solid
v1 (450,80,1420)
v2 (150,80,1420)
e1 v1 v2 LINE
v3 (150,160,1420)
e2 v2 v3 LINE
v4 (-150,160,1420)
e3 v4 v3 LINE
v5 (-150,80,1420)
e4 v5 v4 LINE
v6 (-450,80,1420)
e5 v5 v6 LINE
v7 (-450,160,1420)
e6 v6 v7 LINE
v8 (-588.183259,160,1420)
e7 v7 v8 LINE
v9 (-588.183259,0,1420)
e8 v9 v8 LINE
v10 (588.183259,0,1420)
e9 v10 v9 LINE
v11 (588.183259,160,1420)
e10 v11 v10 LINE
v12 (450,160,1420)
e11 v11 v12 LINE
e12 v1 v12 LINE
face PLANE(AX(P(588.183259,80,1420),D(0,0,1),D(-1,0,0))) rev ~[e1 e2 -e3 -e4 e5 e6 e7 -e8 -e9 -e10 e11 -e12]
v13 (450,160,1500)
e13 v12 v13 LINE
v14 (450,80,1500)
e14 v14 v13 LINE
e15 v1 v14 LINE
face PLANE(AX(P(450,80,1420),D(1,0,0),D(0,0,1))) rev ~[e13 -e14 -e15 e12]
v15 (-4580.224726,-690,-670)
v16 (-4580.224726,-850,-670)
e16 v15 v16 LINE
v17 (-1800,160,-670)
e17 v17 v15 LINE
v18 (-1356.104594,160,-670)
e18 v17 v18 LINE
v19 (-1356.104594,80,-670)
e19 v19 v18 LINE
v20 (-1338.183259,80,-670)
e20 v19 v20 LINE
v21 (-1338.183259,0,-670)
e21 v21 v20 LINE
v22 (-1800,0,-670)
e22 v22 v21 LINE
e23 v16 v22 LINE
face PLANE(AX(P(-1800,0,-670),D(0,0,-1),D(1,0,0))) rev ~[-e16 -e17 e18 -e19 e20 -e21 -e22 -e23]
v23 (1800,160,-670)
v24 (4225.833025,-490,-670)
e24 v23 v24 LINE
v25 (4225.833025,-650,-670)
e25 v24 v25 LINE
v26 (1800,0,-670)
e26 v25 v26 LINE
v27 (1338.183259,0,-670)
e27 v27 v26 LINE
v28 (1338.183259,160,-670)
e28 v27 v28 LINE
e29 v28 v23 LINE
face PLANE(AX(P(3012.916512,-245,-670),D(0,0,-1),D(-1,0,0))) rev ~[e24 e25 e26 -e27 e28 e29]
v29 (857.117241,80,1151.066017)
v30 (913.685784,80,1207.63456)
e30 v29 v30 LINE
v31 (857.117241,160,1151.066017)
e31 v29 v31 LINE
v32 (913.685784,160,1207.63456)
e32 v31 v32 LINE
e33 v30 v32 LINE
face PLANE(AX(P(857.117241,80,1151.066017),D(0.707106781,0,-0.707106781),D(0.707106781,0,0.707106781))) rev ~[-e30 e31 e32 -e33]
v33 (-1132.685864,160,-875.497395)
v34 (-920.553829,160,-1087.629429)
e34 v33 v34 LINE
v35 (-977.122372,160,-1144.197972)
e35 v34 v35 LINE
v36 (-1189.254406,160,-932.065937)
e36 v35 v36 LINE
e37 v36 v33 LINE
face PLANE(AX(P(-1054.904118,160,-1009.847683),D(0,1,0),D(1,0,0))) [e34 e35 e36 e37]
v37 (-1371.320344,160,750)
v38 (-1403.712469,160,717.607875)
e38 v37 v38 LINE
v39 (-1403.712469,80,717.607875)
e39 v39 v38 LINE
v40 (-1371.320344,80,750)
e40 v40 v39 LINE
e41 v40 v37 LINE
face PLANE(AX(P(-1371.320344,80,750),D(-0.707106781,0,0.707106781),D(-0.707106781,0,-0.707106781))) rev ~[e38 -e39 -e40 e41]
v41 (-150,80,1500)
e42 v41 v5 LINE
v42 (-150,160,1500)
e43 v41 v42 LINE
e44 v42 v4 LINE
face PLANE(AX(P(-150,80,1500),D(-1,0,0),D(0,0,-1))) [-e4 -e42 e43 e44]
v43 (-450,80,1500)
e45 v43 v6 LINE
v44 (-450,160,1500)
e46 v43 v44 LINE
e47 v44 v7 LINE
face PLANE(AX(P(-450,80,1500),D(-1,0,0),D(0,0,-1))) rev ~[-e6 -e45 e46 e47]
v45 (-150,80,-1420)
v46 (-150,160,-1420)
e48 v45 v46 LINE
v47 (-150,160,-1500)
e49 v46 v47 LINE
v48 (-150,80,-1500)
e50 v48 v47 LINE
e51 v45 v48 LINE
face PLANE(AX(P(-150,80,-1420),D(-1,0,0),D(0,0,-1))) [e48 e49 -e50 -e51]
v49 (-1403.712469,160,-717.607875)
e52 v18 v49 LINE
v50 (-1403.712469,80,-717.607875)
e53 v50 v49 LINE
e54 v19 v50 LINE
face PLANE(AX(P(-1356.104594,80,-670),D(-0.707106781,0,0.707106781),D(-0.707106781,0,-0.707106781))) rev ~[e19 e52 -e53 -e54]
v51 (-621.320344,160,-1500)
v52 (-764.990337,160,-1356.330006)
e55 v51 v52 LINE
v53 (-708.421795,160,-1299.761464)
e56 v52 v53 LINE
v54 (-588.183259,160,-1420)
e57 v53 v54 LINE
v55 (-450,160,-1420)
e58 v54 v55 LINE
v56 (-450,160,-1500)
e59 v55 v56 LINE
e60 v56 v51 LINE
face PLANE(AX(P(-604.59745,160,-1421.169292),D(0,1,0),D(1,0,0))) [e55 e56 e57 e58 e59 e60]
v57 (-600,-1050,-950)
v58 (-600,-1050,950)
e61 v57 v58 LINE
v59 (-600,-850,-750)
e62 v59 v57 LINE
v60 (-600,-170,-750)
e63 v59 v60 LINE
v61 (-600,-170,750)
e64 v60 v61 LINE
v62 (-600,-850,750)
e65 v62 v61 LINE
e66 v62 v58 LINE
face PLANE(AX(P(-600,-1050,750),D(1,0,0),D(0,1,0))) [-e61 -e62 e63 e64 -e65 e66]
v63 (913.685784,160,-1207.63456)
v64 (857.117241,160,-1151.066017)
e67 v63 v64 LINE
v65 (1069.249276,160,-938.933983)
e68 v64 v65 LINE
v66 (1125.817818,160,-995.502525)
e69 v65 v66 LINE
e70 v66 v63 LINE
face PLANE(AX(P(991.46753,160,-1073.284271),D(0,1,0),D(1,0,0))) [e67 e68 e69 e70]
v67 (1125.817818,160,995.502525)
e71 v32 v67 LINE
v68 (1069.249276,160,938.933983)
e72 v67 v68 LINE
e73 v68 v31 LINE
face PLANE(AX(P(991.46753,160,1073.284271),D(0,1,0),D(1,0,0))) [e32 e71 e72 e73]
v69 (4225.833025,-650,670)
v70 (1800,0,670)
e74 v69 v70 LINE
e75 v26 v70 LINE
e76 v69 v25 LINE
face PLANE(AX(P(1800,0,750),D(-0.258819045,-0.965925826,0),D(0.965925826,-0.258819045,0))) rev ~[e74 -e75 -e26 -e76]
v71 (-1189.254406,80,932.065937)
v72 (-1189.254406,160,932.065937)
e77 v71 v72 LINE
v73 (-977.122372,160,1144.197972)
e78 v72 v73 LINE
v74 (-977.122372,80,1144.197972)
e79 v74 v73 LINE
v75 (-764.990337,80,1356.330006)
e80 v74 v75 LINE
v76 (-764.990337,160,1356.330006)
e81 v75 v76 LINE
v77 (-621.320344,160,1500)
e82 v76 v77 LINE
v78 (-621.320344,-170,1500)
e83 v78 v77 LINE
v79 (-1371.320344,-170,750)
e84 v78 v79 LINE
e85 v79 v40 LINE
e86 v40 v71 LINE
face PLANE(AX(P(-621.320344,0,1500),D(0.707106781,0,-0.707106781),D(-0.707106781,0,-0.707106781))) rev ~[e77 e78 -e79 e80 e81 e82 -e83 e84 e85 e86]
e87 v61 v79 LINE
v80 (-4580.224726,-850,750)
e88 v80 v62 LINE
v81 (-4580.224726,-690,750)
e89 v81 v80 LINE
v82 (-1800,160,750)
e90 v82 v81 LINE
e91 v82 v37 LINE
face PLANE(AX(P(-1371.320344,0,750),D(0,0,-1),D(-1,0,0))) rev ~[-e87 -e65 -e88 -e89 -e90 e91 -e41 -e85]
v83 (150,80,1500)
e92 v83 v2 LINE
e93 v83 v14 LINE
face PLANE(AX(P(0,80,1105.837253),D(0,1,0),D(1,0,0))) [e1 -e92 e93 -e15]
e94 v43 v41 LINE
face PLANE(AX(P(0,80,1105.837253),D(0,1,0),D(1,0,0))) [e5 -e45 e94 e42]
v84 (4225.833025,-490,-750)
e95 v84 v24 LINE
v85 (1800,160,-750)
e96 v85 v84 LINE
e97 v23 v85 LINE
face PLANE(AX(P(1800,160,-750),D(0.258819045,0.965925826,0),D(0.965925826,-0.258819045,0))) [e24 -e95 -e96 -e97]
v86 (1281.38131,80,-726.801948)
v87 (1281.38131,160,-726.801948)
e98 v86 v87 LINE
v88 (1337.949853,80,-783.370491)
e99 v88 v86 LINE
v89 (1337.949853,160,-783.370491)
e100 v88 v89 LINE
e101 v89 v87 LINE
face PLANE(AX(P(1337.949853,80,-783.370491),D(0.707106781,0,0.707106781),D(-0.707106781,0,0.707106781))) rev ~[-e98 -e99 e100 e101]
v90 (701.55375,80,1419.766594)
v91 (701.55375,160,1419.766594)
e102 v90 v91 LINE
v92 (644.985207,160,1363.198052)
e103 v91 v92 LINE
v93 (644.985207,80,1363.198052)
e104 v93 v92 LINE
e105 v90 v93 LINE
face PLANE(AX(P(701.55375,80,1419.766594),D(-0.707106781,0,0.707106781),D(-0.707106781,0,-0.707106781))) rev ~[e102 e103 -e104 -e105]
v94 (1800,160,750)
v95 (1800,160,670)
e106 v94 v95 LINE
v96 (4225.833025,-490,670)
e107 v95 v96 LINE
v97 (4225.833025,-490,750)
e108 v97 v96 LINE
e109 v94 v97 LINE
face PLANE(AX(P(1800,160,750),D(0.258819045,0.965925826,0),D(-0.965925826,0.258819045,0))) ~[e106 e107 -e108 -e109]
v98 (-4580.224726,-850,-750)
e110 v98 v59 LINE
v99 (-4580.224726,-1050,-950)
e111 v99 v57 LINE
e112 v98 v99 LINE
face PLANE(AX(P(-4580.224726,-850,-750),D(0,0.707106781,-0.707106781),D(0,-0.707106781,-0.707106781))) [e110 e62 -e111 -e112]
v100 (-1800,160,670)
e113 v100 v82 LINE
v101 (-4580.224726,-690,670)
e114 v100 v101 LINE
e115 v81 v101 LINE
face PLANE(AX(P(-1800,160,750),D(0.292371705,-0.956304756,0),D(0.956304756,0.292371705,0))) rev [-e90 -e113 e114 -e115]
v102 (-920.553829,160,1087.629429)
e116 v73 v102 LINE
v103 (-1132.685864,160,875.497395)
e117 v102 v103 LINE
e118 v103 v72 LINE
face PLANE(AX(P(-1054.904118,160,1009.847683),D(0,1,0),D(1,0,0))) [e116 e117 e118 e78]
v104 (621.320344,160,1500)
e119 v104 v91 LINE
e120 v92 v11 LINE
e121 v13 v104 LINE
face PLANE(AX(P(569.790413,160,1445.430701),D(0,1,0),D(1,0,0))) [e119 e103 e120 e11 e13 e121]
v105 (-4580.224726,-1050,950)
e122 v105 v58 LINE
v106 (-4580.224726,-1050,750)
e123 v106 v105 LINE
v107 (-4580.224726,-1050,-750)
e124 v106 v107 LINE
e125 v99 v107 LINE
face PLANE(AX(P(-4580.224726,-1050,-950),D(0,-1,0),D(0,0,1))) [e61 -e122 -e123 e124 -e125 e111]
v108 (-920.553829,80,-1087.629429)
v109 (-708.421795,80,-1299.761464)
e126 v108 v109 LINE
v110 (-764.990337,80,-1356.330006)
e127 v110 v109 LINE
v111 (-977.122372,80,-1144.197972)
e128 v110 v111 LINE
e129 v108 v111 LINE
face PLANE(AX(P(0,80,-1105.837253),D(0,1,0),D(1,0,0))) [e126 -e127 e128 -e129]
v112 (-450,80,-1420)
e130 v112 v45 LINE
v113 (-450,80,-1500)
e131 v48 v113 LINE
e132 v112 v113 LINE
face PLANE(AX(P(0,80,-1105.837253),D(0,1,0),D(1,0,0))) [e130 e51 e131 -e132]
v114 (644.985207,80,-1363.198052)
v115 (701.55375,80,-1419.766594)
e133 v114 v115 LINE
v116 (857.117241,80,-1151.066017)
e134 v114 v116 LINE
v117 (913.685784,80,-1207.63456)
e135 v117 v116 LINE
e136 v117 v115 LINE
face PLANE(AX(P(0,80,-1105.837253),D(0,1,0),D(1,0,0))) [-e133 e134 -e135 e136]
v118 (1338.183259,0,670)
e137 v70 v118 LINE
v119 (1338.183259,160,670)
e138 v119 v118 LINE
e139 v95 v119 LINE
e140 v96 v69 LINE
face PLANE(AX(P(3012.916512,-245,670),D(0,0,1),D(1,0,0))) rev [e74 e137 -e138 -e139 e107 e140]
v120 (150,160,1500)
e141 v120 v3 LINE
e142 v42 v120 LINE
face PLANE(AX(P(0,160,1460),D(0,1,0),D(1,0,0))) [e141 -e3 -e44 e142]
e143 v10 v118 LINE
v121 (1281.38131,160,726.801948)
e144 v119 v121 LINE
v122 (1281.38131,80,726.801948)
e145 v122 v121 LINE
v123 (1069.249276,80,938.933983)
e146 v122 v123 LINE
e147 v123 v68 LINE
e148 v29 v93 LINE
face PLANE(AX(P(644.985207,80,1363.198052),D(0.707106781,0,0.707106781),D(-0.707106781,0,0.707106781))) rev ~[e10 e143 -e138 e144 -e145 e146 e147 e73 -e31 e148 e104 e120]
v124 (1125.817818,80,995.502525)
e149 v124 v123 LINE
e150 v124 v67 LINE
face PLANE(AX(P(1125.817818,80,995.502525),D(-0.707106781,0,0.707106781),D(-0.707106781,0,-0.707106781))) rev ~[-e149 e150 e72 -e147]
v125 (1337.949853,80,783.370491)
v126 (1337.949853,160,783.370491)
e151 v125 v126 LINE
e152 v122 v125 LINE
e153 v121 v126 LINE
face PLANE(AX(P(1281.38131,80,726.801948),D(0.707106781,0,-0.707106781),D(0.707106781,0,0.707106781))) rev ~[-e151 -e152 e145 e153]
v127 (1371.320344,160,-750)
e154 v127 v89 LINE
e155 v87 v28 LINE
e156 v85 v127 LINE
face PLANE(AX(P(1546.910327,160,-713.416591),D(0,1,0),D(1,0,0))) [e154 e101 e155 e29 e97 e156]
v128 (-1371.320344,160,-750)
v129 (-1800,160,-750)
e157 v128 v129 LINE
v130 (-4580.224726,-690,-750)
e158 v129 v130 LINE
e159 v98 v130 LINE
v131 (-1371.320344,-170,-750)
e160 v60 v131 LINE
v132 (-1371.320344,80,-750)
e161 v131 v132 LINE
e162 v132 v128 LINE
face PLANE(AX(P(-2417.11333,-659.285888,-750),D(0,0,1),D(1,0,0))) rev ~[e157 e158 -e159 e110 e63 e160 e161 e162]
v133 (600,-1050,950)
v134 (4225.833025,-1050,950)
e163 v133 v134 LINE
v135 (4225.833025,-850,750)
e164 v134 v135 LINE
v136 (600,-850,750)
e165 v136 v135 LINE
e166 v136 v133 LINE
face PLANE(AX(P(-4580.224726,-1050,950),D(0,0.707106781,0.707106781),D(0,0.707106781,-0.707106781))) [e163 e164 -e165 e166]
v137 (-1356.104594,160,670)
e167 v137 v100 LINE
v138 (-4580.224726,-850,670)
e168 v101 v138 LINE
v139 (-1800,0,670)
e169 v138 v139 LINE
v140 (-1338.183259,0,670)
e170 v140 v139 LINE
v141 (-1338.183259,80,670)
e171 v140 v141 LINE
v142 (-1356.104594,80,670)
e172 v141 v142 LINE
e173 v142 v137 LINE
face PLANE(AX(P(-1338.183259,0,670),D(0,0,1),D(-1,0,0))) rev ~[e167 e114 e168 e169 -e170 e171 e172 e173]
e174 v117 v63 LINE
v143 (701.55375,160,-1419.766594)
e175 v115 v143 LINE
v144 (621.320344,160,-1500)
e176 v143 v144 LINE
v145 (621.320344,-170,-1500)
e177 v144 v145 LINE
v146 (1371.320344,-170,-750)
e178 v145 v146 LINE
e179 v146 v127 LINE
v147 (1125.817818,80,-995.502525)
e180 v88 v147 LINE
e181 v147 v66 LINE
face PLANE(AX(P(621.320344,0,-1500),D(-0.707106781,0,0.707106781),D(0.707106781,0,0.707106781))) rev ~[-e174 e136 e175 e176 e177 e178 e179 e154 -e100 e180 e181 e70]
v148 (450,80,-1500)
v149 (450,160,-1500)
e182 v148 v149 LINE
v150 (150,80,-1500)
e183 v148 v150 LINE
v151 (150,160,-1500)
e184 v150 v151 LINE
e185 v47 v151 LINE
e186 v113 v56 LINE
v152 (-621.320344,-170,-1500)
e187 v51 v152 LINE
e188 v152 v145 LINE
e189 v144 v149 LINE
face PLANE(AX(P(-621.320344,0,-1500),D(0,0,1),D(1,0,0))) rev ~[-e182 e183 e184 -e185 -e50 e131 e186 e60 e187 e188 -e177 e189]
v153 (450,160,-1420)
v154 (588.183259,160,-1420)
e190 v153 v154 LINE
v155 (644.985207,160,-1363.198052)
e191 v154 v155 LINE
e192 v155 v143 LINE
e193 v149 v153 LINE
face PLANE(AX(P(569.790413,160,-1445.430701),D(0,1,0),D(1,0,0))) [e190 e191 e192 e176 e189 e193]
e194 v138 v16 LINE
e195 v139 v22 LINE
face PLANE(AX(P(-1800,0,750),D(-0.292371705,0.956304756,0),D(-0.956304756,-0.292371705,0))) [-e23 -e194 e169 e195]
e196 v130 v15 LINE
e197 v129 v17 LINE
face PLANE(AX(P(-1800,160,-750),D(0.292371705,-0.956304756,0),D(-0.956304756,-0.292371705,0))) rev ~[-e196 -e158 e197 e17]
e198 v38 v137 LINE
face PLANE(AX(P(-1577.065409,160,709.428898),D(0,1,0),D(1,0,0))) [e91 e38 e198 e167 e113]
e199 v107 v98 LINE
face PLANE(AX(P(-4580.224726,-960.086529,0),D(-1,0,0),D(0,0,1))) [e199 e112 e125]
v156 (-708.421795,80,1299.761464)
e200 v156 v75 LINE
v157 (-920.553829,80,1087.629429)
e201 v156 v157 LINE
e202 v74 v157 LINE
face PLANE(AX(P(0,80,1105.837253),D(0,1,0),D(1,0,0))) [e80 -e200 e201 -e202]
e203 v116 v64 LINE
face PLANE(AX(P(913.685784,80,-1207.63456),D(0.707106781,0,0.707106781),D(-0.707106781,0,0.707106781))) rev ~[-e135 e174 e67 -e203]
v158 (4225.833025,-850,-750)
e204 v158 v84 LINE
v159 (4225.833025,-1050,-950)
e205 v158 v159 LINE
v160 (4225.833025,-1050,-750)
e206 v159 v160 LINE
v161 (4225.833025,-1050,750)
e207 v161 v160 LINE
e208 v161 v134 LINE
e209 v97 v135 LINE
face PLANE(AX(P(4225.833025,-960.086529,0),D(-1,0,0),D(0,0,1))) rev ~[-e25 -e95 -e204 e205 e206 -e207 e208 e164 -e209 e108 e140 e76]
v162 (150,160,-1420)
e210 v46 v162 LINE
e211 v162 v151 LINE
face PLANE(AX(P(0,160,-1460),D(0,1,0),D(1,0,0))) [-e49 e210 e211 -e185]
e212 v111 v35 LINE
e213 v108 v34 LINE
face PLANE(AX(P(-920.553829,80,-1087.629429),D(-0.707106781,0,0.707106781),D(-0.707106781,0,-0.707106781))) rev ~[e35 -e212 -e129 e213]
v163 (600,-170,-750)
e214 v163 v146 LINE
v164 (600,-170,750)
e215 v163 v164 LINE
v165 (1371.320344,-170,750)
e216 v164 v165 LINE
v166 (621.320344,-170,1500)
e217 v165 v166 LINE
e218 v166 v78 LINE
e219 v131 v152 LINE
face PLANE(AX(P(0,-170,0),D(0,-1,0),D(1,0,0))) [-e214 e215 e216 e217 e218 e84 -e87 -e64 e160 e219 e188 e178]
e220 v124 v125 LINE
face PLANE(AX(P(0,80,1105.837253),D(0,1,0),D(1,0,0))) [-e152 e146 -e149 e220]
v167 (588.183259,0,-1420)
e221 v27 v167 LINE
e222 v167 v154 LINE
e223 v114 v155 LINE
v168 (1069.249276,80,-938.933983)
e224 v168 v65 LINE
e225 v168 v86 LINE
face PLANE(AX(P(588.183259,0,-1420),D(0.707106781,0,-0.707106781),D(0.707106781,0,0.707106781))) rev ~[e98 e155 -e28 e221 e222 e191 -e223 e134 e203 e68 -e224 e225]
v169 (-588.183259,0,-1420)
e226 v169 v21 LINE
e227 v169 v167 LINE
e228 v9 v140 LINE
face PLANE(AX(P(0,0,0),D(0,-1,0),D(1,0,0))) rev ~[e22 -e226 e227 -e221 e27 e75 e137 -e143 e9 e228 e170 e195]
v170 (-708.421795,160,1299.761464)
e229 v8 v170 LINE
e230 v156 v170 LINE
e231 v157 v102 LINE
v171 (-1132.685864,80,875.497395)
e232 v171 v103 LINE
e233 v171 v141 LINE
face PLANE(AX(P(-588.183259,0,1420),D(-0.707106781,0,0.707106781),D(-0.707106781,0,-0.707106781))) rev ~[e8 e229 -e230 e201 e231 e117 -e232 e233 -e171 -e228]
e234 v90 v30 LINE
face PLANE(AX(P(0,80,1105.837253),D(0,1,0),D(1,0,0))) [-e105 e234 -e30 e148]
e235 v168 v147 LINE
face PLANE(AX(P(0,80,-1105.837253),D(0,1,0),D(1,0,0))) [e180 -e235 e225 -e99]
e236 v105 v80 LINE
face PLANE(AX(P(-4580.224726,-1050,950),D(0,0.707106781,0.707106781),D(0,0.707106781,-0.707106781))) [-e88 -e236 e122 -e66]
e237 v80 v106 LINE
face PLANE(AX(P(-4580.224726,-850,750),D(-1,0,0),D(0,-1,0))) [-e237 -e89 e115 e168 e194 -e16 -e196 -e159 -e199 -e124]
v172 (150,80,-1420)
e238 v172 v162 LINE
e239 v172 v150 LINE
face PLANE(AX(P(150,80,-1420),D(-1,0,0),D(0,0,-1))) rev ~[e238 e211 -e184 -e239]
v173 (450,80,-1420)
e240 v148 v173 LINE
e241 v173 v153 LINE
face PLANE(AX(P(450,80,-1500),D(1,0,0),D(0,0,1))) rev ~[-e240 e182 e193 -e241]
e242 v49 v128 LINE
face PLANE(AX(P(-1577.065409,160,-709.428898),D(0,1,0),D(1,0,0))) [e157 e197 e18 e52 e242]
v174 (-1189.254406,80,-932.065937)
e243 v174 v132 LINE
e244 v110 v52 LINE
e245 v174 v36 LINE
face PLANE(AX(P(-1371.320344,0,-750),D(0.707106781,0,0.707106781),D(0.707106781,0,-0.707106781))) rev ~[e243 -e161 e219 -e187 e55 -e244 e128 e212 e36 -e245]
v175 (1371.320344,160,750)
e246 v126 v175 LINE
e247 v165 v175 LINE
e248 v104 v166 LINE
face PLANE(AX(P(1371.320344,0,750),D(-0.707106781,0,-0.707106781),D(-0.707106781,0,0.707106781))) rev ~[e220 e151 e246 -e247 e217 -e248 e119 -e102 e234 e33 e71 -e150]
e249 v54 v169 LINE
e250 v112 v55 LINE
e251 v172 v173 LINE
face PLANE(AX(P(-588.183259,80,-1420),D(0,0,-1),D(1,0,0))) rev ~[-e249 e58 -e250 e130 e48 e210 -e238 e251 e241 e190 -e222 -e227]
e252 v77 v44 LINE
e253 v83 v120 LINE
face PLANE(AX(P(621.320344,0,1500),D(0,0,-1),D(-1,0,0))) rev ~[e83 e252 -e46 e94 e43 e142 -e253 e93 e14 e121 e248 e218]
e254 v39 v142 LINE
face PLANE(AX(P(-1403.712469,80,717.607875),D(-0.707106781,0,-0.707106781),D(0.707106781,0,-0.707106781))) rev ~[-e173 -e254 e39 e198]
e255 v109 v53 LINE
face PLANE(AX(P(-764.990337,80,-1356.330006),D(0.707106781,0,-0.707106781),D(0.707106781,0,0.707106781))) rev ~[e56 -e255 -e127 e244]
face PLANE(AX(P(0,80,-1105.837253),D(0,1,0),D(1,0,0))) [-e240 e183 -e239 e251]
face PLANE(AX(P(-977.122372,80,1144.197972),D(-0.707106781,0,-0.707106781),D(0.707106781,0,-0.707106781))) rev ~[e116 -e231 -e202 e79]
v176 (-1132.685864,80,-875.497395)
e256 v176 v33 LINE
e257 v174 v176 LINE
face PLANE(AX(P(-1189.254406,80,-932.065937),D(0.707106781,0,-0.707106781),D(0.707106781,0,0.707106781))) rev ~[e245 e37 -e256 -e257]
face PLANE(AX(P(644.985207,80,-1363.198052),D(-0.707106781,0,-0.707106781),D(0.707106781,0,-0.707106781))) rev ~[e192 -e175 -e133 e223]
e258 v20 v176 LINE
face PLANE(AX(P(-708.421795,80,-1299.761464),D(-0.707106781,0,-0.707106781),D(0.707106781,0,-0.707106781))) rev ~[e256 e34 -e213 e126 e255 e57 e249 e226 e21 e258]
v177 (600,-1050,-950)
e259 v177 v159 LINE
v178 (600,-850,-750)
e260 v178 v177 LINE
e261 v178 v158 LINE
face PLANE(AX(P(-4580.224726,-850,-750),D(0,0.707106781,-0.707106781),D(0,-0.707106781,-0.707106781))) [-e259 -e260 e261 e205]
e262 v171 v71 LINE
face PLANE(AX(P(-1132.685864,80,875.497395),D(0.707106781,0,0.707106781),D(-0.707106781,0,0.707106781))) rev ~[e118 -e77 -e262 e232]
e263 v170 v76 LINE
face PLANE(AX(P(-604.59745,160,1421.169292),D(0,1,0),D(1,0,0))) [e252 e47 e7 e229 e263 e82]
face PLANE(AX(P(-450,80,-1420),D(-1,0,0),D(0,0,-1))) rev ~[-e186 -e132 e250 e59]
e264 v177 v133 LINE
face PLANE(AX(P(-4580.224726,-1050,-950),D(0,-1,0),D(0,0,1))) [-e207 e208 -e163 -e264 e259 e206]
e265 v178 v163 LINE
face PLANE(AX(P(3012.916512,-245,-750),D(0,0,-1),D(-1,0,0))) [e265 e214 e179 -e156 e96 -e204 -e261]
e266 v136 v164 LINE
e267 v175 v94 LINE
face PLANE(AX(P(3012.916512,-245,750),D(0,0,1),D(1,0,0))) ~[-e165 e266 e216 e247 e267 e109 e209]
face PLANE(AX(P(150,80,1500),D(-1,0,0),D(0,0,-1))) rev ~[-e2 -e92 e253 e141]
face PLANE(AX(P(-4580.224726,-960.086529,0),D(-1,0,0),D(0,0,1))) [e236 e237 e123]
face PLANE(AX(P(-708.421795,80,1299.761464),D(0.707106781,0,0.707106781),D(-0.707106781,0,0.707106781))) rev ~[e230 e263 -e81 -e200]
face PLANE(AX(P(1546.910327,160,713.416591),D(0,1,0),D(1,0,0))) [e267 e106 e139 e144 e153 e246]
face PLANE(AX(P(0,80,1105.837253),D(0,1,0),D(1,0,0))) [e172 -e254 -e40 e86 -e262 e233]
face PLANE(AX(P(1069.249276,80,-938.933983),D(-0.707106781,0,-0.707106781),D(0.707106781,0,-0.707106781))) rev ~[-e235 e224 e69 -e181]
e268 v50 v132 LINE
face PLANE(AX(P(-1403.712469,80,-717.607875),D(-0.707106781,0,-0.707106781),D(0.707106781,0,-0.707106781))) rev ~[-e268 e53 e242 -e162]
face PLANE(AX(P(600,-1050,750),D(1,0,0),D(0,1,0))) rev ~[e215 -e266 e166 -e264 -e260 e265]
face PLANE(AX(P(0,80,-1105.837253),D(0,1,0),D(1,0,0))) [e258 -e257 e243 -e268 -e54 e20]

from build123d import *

# Parameters (mm, degrees)
EXTRUDE_1_DEPTH          = 80
EXTRUDE_1_2_DEPTH        = 80
SKETCH_2_W               = 300
SKETCH_2_H               = 80
EXTRUDE_2_DEPTH          = 80
EXTRUDE_3_DEPTH          = 170
EXTRUDE_4_DEPTH          = 1500
EXTRUDE_5_DEPTH          = 80
EXTRUDE_START            = -3980.224726
EXTRUDE_6_DEPTH          = 8806.057751
SKETCH_7_W               = 1200
SKETCH_7_H               = 200
CUT_EXTRUDE_1_DEPTH      = 751
CUT_EXTRUDE_1_DEPTH_BACK = 2251


with BuildPart() as part:
    # 草图1 → 凸台-拉伸1 (new body)
    with BuildSketch(Plane(origin=(0, 0, 0), x_dir=(1, 0, 0), z_dir=(0, 1, 0))):
        Polygon((1371.32034356, 750), (621.32034356, 1500), (-621.32034356, 1500), (-1371.32034356, 750), (-1800, 750), (-1800, 670), (-1338.18325857, 670), (-588.18325857, 1420), (588.18325857, 1420), (1338.18325857, 670), (1800, 670), (1800, 750), align=None)
    extrude(amount=EXTRUDE_1_DEPTH)



with BuildPart() as body_2:
    # 草图1 → Extrude 1 2 (new body)
    with BuildSketch(Plane(origin=(0, 0, 0), x_dir=(1, 0, 0), z_dir=(0, 1, 0))):
        Polygon((-1371.32034356, -750), (-621.32034356, -1500), (621.32034356, -1500), (1371.32034356, -750), (1800, -750), (1800, -670), (1338.18325857, -670), (588.18325857, -1420), (-588.18325857, -1420), (-1338.18325857, -670), (-1800, -670), (-1800, -750), align=None)
    extrude(amount=EXTRUDE_1_2_DEPTH)


with BuildPart() as part_1:
    add(part.part)

    add(body_2.part)  # 凸台-拉伸2 merges body 2
    # 草图2 → 凸台-拉伸2 (add)
    with BuildSketch(Plane(origin=(0, 80, 0), x_dir=(1, 0, 0), z_dir=(0, 1, 0))):
        with Locations((0, -1460)):
            Rectangle(SKETCH_2_W, SKETCH_2_H)
        Polygon((588.18325857, -1420), (450, -1420), (450, -1500), (621.32034356, -1500), (701.553749531, -1419.766594029), (644.985207036, -1363.198051534), align=None)
        Polygon((1125.817818243, -995.502525317), (1069.249275748, -938.933982822), (857.117241392, -1151.066017178), (913.685783887, -1207.634559673), align=None)
        Polygon((1338.18325857, -670), (1281.381310104, -726.801948466), (1337.949852599, -783.370490961), (1371.32034356, -750), (1800, -750), (1800, -670), align=None)
        Polygon((-1371.32034356, -750), (-1403.712468582, -717.607874978), (-1356.104593604, -670), (-1800, -670), (-1800, -750), align=None)
        Polygon((-1132.685863612, -875.497394958), (-1189.254406107, -932.065937453), (-977.122371751, -1144.197971809), (-920.553829256, -1087.629429314), align=None)
        Polygon((-450, -1420), (-588.18325857, -1420), (-708.4217949, -1299.76146367), (-764.990337395, -1356.330006165), (-621.32034356, -1500), (-450, -1500), align=None)
        with Locations((0, 1460)):
            Rectangle(SKETCH_2_W, SKETCH_2_H)
        Polygon((-588.18325857, 1420), (-450, 1420), (-450, 1500), (-621.32034356, 1500), (-764.990337395, 1356.330006165), (-708.4217949, 1299.76146367), align=None)
        Polygon((-1189.254406107, 932.065937453), (-1132.685863612, 875.497394958), (-920.553829256, 1087.629429314), (-977.122371751, 1144.197971809), align=None)
        Polygon((-1800, 670), (-1356.104593604, 670), (-1403.712468582, 717.607874978), (-1371.32034356, 750), (-1800, 750), align=None)
        Polygon((1371.32034356, 750), (1337.949852599, 783.370490961), (1281.381310104, 726.801948466), (1338.18325857, 670), (1800, 670), (1800, 750), align=None)
        Polygon((1069.249275748, 938.933982822), (1125.817818243, 995.502525317), (913.685783887, 1207.634559673), (857.117241392, 1151.066017178), align=None)
        Polygon((450, 1420), (588.18325857, 1420), (644.985207036, 1363.198051534), (701.553749531, 1419.766594029), (621.32034356, 1500), (450, 1500), align=None)
    extrude(amount=EXTRUDE_2_DEPTH)

    # 草图3 → 凸台-拉伸3 (add)
    with BuildSketch(Plane.XZ):
        Polygon((-1800, 750), (-1800, -750), (-1371.32034356, -750), (-621.32034356, -1500), (621.32034356, -1500), (1371.32034356, -750), (1800, -750), (1800, 750), (1371.32034356, 750), (621.32034356, 1500), (-621.32034356, 1500), (-1371.32034356, 750), align=None)
    extrude(amount=EXTRUDE_3_DEPTH)

    # 草图4 → 凸台-拉伸4 (add)
    with BuildSketch(Plane.XY.offset(750)):
        Polygon((-600, 0), (-1800, 0), (-4580.224725712, -850), (-4580.224725712, -1050), (-600, -1050), align=None)
        Polygon((600, 0), (1800, 0), (4225.83302492, -650), (4225.83302492, -1050), (600, -1050), align=None)
    extrude(amount=-EXTRUDE_4_DEPTH)

    # 草图5 → 凸台-拉伸5 (add)
    with BuildSketch(Plane(origin=(0, 0, -750), x_dir=(-1, 0, 0), z_dir=(0, 0, -1))):
        Polygon((-4225.83302492, -650), (-1800, 0), (-1800, 160), (-4225.83302492, -490), align=None)
        Polygon((4580.224725712, -850), (1800, 0), (1800, 160), (4580.224725712, -690), align=None)
    extrude_5 = extrude(amount=-EXTRUDE_5_DEPTH)

    # 镜向1: 凸台-拉伸5 across plane
    add(extrude_5.mirror(Plane.XY))

    # 草图6 → 凸台-拉伸6 (add)
    with BuildSketch(Plane(origin=(-600, 0, 0), x_dir=(0, 0, -1), z_dir=(1, 0, 0)).offset(EXTRUDE_START)):
        Polygon((750, -850), (950, -1050), (-950, -1050), (-750, -850), align=None)
    extrude(amount=EXTRUDE_6_DEPTH)

    # 草图7 → 切除-拉伸1 (cut, two sides)
    with BuildSketch(Plane.XY.offset(750)) as cut_extrude_1_sk:
        with Locations((0, -950)):
            Rectangle(SKETCH_7_W, SKETCH_7_H)
    extrude(amount=CUT_EXTRUDE_1_DEPTH, mode=Mode.SUBTRACT)
    extrude(cut_extrude_1_sk.sketch, amount=-CUT_EXTRUDE_1_DEPTH_BACK, mode=Mode.SUBTRACT)


solid = part_1.part
